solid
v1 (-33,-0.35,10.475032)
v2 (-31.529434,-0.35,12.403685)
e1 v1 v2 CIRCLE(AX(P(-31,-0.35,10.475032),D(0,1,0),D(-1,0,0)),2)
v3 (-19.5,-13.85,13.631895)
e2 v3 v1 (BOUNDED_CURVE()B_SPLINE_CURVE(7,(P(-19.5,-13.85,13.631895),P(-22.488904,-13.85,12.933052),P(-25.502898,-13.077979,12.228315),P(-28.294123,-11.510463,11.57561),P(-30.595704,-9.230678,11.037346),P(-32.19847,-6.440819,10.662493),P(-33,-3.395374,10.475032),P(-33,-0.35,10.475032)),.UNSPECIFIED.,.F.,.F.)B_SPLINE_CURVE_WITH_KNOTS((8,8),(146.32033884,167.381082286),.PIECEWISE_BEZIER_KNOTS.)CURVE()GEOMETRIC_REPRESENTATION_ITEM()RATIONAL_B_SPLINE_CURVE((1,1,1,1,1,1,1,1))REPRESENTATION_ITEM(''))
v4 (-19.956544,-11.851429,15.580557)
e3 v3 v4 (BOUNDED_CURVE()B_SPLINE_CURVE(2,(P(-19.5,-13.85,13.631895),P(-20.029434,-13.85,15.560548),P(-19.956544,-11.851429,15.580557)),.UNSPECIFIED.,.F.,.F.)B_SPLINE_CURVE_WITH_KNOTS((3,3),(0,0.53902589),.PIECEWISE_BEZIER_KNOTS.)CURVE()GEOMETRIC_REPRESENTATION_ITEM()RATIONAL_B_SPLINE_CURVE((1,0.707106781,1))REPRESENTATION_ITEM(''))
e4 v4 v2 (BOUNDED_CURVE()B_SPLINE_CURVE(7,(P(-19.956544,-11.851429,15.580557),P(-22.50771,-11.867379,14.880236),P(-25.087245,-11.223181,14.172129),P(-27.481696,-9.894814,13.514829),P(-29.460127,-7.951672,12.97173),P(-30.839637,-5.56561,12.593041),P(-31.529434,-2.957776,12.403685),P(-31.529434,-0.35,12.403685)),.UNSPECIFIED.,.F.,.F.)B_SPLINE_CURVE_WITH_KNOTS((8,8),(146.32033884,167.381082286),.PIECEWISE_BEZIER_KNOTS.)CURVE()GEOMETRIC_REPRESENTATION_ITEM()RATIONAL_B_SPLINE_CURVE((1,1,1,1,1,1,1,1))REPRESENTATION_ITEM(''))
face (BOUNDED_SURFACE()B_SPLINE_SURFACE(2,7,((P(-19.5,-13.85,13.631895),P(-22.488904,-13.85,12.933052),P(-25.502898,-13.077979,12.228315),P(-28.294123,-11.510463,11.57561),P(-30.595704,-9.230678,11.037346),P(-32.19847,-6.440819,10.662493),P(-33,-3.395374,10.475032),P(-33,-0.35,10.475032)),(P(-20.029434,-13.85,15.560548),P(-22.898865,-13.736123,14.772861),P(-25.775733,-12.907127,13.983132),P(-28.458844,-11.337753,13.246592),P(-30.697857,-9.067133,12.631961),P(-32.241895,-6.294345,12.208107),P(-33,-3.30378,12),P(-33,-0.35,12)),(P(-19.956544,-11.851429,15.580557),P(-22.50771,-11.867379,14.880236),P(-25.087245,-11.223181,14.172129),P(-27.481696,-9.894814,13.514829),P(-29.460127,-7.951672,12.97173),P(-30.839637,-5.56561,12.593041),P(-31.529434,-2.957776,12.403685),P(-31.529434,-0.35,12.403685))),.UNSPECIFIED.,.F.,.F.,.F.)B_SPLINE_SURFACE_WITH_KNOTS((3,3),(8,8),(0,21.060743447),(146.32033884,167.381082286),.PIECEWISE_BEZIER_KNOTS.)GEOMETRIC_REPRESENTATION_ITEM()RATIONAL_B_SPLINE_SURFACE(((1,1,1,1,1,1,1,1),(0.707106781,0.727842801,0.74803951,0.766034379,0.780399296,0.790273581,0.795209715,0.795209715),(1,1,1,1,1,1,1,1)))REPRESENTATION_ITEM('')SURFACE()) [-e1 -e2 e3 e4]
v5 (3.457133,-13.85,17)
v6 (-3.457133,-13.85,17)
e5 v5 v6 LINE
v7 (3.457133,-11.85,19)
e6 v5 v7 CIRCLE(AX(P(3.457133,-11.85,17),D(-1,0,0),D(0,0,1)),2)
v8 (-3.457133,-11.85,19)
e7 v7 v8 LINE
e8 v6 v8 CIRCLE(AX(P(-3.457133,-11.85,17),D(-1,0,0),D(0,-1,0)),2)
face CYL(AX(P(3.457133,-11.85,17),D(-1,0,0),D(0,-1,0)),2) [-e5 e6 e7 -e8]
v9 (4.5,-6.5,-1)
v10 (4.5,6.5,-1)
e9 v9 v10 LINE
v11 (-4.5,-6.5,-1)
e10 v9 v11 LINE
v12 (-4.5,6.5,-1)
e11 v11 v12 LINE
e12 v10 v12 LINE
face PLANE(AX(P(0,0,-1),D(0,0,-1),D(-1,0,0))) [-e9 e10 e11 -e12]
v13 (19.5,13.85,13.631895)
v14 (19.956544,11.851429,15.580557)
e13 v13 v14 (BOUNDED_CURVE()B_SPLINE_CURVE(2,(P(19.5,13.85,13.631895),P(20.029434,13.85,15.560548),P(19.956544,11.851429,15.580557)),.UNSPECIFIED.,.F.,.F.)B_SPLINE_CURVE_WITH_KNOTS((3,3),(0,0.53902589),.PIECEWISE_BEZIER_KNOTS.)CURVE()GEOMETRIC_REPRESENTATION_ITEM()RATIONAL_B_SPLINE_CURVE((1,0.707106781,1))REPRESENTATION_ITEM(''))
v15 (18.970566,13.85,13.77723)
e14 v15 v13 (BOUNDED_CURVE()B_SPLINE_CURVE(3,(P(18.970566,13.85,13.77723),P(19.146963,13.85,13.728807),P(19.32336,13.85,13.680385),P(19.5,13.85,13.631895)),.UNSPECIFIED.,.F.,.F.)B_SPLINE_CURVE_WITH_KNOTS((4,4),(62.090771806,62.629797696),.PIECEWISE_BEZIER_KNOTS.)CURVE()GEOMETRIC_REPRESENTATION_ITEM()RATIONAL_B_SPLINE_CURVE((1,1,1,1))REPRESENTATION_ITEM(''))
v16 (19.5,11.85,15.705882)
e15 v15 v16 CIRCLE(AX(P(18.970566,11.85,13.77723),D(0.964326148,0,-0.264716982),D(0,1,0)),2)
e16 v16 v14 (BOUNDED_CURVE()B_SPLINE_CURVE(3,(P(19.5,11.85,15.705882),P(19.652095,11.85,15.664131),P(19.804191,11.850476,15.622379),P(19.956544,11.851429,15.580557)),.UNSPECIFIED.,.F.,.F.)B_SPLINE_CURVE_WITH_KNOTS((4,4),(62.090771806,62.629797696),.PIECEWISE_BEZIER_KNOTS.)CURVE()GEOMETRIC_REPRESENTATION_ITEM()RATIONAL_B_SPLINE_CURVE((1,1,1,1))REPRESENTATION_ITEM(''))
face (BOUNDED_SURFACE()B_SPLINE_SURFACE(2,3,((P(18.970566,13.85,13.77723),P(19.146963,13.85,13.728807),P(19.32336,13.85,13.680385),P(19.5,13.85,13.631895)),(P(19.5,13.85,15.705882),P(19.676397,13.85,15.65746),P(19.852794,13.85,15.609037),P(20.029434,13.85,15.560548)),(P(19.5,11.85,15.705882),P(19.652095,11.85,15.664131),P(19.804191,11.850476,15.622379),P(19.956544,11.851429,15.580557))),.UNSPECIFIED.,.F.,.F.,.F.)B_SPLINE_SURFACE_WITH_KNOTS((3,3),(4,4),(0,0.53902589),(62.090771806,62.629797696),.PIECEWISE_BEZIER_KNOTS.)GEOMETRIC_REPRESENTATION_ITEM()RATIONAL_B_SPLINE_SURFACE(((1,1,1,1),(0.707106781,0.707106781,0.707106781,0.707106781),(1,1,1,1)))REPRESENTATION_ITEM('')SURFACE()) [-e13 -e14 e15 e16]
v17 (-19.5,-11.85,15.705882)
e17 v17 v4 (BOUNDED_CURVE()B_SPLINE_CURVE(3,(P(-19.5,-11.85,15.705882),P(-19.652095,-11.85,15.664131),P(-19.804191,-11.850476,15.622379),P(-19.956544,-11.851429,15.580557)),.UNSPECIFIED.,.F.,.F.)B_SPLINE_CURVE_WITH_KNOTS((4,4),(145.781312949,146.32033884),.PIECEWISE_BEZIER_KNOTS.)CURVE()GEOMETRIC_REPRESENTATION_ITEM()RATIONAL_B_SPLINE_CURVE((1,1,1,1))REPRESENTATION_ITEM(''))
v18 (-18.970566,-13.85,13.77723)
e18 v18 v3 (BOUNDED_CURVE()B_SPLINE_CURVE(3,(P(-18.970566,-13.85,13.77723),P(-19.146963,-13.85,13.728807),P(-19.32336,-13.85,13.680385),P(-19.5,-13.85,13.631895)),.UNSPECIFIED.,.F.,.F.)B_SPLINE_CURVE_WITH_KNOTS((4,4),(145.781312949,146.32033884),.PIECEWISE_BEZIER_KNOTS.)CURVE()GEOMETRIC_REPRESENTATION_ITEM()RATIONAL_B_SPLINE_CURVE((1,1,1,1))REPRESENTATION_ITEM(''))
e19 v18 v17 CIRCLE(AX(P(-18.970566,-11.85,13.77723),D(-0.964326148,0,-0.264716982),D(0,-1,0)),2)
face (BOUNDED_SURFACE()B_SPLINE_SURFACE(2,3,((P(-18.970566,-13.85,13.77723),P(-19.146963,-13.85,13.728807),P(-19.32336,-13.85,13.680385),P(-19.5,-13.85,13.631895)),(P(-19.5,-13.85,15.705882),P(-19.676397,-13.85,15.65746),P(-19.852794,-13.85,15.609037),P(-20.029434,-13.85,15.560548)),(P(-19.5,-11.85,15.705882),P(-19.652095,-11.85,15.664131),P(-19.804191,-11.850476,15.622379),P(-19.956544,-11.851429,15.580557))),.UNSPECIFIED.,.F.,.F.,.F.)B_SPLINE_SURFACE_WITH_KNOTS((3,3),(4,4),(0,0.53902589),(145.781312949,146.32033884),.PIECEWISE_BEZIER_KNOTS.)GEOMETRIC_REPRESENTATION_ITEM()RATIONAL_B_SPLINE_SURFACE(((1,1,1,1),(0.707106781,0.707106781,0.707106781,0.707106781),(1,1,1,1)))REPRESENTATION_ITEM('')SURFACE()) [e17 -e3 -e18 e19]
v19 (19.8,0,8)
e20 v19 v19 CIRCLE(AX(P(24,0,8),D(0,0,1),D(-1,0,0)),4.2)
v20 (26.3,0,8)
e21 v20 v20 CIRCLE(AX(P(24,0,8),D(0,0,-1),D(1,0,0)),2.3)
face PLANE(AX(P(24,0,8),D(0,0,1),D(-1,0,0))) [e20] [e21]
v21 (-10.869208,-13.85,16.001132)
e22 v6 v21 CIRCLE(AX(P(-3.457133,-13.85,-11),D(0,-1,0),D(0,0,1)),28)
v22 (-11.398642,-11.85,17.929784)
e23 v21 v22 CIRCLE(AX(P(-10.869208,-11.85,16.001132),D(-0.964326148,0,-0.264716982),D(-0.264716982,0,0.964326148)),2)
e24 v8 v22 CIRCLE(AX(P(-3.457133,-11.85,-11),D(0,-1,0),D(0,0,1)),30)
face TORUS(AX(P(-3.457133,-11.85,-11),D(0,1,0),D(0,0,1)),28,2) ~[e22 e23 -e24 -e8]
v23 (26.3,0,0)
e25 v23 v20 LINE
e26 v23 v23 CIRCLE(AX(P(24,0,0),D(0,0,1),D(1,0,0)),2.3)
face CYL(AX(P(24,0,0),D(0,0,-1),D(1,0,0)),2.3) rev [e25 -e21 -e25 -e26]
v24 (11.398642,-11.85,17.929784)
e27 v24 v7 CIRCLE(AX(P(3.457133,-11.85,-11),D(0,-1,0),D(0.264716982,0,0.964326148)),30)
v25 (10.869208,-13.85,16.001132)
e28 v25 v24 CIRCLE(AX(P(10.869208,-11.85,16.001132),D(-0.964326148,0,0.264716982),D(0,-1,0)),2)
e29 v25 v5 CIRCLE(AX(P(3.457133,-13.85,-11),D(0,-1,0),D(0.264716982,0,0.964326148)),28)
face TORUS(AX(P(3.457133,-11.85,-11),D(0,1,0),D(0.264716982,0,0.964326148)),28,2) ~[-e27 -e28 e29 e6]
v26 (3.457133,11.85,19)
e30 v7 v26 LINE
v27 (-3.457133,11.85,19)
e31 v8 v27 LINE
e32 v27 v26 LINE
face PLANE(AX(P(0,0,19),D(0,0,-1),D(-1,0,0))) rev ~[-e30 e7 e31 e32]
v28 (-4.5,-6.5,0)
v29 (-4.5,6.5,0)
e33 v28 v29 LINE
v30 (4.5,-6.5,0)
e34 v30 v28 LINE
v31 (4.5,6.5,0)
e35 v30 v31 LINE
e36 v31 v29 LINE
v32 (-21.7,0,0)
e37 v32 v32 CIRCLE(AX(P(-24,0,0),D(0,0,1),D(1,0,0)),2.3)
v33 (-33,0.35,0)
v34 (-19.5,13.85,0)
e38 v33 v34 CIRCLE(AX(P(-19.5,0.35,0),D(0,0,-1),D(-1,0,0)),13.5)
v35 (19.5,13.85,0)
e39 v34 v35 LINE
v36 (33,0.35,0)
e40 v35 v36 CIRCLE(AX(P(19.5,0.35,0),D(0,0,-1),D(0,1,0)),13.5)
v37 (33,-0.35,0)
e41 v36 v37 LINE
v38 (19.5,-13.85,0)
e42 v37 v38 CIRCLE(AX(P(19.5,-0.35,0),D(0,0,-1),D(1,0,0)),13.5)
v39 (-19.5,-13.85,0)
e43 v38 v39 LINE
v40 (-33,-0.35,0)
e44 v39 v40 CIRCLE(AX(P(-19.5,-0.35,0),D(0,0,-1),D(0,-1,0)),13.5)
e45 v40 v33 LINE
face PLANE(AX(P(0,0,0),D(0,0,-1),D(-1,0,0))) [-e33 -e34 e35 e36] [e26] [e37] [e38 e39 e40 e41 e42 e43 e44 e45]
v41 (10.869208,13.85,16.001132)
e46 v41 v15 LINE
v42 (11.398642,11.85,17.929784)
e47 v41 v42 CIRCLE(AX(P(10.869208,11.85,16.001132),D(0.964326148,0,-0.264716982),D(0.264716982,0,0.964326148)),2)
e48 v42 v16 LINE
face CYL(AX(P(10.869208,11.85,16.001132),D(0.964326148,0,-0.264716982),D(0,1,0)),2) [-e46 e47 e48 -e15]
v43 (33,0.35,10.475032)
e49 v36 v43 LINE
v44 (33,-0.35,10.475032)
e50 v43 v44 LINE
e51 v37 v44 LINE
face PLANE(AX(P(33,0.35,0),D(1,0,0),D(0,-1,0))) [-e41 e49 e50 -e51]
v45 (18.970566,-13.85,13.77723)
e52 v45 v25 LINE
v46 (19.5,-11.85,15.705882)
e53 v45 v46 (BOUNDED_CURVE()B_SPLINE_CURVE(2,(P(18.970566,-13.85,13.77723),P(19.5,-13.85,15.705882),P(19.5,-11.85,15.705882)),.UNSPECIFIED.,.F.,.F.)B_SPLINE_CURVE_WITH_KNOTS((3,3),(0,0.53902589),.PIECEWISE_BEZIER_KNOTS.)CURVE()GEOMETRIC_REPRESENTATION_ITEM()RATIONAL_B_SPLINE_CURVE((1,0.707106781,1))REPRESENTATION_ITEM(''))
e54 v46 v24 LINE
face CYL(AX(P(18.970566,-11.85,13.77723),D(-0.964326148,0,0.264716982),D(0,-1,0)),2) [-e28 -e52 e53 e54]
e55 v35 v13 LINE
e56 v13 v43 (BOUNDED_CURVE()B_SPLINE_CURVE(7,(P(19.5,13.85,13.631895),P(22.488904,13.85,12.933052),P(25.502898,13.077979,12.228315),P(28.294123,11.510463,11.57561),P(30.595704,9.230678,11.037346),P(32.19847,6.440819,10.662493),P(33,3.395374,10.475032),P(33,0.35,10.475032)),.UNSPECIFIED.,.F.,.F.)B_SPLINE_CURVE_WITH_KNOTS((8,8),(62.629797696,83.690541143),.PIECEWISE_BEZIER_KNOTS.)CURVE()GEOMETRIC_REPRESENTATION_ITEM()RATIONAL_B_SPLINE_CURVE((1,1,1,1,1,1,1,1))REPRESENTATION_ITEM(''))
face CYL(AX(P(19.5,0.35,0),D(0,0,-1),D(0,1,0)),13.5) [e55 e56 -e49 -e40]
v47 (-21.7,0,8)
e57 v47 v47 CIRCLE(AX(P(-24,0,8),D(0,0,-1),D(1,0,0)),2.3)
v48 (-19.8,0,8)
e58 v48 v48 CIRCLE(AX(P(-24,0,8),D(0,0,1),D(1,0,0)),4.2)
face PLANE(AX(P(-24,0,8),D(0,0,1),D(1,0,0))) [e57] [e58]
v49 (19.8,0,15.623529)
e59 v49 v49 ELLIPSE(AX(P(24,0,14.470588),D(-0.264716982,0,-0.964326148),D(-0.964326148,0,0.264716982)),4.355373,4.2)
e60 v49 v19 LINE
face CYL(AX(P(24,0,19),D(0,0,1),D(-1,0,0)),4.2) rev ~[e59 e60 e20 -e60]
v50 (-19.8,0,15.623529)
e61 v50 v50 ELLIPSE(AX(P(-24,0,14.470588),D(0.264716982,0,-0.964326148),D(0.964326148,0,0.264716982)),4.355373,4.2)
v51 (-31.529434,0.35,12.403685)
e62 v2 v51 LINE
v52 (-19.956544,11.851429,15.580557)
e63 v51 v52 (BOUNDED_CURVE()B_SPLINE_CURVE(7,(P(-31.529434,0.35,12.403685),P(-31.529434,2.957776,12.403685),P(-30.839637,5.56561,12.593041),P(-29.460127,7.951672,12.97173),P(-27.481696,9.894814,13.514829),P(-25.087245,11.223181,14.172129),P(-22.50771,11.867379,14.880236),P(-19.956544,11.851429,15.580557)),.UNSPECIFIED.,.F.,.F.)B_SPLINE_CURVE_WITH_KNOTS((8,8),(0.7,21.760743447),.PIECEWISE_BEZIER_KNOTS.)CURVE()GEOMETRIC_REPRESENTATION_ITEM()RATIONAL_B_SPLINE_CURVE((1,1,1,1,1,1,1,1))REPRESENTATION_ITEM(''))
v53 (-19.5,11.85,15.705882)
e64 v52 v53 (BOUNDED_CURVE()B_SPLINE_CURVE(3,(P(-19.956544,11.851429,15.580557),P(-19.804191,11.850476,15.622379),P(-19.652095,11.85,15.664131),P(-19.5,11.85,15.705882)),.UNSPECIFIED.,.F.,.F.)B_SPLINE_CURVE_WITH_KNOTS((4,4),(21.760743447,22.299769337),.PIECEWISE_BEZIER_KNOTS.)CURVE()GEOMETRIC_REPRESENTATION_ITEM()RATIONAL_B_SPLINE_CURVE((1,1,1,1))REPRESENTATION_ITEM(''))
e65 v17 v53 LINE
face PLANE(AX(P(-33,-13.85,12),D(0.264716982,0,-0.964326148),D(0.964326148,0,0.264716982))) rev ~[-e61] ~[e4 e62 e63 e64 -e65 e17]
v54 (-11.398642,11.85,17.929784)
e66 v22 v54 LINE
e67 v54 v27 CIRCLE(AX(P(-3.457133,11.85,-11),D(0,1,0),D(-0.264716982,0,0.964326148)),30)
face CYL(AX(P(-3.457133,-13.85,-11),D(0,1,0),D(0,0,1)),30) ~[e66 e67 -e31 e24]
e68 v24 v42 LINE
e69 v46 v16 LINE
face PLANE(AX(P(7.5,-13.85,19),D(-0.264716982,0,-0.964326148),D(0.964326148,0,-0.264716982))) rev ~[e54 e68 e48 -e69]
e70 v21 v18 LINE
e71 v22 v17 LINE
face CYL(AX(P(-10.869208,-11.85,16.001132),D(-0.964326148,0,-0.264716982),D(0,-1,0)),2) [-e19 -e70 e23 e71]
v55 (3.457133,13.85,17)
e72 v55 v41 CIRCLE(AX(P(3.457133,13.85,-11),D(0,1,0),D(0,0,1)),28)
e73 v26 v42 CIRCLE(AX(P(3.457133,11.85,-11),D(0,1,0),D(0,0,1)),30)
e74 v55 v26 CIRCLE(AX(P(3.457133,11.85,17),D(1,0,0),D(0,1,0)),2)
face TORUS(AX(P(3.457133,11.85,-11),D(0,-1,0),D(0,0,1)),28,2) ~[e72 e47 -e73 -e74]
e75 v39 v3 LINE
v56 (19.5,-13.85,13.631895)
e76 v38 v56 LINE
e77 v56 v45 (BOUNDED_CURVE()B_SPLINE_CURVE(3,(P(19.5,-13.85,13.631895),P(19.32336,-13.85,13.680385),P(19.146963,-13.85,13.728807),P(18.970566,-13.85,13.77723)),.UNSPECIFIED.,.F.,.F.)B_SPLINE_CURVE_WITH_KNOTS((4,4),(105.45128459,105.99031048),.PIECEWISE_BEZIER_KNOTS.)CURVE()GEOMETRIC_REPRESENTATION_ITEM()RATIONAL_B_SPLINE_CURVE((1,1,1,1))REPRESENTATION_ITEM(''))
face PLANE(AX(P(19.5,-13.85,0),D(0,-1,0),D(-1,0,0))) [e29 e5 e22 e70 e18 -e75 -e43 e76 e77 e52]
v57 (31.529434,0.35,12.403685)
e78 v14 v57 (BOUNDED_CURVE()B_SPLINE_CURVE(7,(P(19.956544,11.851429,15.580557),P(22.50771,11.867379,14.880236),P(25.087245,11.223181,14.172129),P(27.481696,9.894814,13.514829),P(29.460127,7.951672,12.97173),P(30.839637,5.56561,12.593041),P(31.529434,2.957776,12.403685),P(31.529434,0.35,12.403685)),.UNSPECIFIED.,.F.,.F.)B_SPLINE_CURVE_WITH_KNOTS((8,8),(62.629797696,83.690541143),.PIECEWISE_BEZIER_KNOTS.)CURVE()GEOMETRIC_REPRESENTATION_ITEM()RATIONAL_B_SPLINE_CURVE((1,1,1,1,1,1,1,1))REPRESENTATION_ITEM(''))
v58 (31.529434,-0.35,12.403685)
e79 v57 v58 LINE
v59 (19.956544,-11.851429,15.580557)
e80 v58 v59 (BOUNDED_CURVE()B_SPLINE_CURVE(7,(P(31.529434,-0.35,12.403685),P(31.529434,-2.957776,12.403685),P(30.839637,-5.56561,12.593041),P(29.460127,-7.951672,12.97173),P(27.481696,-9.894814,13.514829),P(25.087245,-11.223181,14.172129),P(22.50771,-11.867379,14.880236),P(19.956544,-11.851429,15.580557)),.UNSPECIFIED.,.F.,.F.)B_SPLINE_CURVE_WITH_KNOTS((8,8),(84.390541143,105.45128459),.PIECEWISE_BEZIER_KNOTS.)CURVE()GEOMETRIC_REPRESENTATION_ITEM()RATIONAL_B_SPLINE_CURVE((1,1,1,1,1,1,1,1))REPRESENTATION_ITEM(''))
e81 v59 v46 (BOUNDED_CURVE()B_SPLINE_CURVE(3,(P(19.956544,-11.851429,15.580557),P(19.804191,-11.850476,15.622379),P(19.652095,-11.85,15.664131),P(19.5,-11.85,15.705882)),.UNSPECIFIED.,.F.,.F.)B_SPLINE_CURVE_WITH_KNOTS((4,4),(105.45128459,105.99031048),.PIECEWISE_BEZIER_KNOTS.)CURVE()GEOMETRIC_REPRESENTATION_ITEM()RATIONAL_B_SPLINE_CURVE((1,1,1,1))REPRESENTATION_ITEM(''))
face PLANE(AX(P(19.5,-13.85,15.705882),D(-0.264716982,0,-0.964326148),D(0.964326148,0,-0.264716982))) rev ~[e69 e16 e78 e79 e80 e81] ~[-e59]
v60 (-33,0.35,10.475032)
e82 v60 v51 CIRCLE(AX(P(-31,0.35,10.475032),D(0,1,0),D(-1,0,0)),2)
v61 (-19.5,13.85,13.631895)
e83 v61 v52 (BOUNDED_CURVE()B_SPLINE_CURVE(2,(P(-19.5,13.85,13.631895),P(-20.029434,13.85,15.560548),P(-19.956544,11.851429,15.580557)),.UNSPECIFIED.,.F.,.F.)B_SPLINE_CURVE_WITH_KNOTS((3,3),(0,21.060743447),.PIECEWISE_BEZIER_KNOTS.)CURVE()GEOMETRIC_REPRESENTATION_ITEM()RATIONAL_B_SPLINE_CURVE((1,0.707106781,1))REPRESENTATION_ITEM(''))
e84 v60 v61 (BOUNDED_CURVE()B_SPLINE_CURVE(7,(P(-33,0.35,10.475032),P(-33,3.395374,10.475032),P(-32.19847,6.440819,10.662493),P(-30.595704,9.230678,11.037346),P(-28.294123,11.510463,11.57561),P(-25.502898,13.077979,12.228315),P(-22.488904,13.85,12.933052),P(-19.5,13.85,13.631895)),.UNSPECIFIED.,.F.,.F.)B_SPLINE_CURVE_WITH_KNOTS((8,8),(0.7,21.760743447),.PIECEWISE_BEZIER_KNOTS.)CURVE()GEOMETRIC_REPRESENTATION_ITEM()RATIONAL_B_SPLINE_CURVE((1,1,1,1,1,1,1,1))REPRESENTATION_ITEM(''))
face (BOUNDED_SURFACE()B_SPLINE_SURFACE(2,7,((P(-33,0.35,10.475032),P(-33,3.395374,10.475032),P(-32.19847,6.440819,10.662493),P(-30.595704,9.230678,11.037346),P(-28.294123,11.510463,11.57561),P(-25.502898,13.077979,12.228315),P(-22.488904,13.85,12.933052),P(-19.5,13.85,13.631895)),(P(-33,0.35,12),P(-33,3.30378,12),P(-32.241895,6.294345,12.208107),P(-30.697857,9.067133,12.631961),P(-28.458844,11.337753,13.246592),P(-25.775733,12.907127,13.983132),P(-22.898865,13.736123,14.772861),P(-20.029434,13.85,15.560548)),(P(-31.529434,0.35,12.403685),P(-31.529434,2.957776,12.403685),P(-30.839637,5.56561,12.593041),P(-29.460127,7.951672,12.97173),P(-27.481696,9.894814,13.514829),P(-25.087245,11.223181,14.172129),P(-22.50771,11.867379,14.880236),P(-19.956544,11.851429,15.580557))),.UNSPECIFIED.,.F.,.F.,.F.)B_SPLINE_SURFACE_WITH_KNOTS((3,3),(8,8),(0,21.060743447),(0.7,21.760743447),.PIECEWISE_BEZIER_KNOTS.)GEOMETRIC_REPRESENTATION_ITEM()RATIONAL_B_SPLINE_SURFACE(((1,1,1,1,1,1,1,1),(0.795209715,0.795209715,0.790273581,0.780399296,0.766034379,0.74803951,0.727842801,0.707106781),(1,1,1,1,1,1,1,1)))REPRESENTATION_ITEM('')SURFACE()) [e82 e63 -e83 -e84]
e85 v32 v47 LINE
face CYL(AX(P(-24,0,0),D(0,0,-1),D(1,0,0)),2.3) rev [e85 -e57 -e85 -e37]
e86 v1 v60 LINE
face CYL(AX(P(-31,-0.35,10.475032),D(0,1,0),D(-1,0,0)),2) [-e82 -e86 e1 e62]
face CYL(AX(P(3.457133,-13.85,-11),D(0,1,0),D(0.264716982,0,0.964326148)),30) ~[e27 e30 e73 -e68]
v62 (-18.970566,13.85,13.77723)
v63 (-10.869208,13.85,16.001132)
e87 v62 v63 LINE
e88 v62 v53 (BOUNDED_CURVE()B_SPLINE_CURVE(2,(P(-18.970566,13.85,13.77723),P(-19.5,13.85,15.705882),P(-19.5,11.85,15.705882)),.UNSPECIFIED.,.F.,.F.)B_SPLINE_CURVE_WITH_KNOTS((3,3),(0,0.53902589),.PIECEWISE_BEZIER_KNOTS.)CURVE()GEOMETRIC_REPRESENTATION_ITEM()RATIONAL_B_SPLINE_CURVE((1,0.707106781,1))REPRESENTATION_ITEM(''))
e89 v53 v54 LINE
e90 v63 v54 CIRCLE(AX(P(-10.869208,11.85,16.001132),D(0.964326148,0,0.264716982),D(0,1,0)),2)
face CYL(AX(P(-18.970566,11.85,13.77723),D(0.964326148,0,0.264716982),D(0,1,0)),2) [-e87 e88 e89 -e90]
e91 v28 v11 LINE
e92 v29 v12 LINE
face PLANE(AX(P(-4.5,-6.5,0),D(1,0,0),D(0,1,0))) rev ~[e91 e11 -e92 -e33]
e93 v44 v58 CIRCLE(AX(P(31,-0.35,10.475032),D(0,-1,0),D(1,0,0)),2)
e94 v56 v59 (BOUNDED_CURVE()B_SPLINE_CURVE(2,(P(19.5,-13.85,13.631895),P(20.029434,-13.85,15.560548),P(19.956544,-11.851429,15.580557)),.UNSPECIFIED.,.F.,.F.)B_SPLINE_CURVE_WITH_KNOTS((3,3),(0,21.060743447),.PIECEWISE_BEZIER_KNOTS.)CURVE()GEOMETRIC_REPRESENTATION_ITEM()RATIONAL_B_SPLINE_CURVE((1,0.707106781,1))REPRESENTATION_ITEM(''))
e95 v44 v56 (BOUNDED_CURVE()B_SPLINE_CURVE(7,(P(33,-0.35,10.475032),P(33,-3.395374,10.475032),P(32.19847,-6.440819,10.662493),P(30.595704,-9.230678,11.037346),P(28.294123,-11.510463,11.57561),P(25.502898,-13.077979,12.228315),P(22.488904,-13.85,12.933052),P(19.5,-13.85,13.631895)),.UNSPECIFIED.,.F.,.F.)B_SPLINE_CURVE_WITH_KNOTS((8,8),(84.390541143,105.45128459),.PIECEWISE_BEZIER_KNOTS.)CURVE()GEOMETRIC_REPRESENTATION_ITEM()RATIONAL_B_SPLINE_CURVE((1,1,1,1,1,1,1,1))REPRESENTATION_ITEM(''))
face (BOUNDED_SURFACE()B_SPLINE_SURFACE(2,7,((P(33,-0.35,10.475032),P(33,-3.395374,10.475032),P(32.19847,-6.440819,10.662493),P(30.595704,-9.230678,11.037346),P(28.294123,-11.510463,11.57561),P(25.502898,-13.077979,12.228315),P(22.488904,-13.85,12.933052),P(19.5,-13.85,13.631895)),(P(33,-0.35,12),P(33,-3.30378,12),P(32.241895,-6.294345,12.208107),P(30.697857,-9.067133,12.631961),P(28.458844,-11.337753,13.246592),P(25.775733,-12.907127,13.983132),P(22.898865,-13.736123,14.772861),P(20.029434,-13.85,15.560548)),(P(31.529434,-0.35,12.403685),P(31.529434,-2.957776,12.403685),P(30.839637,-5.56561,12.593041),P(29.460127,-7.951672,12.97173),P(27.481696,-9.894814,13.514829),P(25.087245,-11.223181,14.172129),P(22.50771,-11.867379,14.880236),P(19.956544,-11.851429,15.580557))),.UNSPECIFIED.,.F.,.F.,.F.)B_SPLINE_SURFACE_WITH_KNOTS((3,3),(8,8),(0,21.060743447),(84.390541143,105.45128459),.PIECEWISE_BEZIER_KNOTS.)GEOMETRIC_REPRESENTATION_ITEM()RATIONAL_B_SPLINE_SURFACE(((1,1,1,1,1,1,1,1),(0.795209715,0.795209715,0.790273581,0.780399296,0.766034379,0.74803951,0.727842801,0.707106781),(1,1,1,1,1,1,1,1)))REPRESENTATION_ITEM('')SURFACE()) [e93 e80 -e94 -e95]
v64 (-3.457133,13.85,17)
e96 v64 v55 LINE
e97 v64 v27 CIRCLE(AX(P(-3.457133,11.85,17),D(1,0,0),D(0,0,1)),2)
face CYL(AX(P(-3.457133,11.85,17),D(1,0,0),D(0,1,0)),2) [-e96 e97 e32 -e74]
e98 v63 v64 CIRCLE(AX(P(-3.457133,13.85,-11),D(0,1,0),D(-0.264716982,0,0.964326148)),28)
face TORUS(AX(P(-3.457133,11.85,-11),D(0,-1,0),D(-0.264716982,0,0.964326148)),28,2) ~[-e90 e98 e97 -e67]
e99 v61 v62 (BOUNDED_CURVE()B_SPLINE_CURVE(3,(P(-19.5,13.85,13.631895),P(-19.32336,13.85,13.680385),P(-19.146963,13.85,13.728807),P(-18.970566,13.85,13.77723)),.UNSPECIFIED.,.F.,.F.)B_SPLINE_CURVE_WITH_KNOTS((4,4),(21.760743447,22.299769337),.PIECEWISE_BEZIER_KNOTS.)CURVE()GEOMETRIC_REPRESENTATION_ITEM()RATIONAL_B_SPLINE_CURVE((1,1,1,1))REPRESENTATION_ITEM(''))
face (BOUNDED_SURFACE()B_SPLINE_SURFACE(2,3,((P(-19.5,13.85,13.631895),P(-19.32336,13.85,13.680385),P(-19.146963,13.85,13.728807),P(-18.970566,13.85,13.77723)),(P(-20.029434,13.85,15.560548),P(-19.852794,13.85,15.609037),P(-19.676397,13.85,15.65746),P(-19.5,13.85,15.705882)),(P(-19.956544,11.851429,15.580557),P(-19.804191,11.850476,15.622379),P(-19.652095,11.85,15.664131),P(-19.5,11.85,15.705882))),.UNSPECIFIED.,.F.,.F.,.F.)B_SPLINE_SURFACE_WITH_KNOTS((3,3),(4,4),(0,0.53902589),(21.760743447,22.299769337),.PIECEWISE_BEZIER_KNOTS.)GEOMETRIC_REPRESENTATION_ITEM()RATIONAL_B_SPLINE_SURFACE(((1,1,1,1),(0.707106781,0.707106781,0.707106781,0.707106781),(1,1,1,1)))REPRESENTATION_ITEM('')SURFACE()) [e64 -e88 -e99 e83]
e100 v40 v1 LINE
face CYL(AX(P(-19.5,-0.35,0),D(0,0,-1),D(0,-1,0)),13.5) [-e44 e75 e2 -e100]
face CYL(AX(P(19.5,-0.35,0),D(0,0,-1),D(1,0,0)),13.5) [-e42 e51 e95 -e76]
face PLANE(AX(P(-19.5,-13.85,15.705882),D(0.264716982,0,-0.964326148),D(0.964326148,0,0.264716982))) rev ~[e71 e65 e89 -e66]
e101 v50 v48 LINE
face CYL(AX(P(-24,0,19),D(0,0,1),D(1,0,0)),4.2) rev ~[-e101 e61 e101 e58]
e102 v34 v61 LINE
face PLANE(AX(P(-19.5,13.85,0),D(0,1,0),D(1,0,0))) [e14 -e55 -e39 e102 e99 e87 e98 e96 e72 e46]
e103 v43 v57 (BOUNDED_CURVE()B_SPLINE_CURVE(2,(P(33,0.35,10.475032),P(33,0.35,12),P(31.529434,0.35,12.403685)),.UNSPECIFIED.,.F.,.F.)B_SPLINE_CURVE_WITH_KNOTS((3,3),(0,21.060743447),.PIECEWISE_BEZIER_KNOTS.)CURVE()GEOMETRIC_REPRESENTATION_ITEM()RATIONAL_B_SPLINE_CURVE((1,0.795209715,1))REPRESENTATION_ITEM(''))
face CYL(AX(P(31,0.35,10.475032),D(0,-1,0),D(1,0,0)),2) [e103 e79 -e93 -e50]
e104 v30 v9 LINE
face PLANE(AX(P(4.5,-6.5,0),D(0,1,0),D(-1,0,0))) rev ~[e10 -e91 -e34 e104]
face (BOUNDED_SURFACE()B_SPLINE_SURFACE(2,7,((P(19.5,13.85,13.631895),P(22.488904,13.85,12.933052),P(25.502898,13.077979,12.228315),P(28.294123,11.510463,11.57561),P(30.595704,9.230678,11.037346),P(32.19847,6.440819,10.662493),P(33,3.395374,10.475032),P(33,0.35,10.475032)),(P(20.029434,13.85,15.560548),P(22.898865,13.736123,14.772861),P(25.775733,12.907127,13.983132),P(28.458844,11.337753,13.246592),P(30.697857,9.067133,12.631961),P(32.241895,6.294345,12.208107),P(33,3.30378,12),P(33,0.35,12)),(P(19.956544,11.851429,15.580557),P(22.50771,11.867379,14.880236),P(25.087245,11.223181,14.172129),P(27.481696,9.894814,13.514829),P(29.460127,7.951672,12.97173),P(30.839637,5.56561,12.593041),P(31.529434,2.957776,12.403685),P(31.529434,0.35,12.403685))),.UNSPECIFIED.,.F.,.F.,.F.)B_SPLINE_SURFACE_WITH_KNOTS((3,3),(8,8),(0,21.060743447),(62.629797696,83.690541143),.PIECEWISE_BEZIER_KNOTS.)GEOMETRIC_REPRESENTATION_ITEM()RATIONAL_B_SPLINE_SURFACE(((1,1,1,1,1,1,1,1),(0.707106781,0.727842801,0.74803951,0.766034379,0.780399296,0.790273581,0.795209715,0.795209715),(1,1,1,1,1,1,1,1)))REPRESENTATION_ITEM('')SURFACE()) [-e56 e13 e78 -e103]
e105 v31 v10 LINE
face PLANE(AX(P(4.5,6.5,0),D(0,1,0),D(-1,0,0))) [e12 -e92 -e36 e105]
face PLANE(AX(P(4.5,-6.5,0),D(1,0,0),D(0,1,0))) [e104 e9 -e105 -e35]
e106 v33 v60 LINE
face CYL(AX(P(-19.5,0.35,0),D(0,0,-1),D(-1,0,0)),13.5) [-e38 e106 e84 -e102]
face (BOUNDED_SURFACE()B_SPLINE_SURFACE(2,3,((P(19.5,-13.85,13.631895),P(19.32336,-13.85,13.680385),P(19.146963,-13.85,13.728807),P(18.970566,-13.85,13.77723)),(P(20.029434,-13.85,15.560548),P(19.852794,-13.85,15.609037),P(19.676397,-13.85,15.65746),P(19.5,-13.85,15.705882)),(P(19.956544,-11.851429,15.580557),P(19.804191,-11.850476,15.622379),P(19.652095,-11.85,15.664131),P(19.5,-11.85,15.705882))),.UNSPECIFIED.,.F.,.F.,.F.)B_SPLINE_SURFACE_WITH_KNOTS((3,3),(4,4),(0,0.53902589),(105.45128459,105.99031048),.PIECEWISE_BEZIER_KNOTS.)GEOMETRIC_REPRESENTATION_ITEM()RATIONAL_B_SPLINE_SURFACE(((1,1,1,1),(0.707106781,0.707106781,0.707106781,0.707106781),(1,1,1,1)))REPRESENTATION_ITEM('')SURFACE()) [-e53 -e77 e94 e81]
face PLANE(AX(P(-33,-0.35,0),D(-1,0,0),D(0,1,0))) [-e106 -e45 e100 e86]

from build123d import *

# Parameters (mm, degrees)
SKETCH1_R           = 2.3
BOSS_EXTRUDE1_DEPTH = 19
CUT_EXTRUDE1_DEPTH  = 48.088108902
FILLET1_R           = 30
FILLET2_R           = 2
SKETCH3_R           = 4.2
CUT_EXTRUDE2_DEPTH  = 11
SKETCH4_W           = 9
SKETCH4_H           = 13
BOSS_EXTRUDE2_DEPTH = 1


with BuildPart() as part:
    # Sketch1 → Boss-Extrude1 (new body)
    with BuildSketch(Plane.XY):
        with BuildLine():
            Line((-19.5, 13.85), (19.5, 13.85))
            ThreePointArc((19.5, 13.85), (29.045941546, 9.895941546), (33, 0.35))
            Line((33, 0.35), (33, -0.35))
            ThreePointArc((33, -0.35), (29.045941546, -9.895941546), (19.5, -13.85))
            Line((19.5, -13.85), (-19.5, -13.85))
            ThreePointArc((-19.5, -13.85), (-29.045941546, -9.895941546), (-33, -0.35))
            Line((-33, -0.35), (-33, 0.35))
            ThreePointArc((-33, 0.35), (-29.045941546, 9.895941546), (-19.5, 13.85))
        make_face()
        with Locations((-24, 0)):
            Circle(SKETCH1_R, mode=Mode.SUBTRACT)
        with Locations((24, 0)):
            Circle(SKETCH1_R, mode=Mode.SUBTRACT)
    extrude(amount=BOSS_EXTRUDE1_DEPTH)

    # Sketch2 → Cut-Extrude1 (cut, through all)
    with BuildSketch(Plane.XZ.offset(13.85)):
        Polygon((-19.5, 19), (-19.5, 15.705882353), (-7.5, 19), align=None)
        Polygon((-33, 12), (-19.5, 15.705882353), (-19.5, 19), (-33, 19), align=None)
        Polygon((7.5, 19), (19.5, 15.705882353), (19.5, 19), align=None)
        Polygon((19.5, 19), (19.5, 15.705882353), (33, 12), (33, 19), align=None)
    extrude(amount=-CUT_EXTRUDE1_DEPTH, mode=Mode.SUBTRACT)

    # Fillet1
    fillet1_edges = [part.edges().sort_by_distance(p)[0] for p in [
        (-7.5, 0, 19),
        (7.5, 0, 19),
    ]]
    fillet(fillet1_edges, radius=FILLET1_R)

    # Fillet2
    fillet2_edges = [part.edges().sort_by_distance(p)[0] for p in [
        (-33, 0, 12),
        (-15.449321203, -13.85, 16.817833395),
        (-28.958901568, 9.982195032, 13.109321138),
        (-15.449321203, 13.85, 16.817833395),
        (-28.958901568, -9.982195032, 13.109321138),
        (33, 0, 12),
        (15.449321203, -13.85, 16.817833395),
        (28.958901568, 9.982195032, 13.109321138),
        (28.958901568, -9.982195032, 13.109321138),
        (15.449321203, 13.85, 16.817833395),
        (0, -13.85, 19),
        (-7.463781607, -13.85, 18.731242264),
        (7.463781607, -13.85, 18.731242264),
        (0, 13.85, 19),
        (-7.463781607, 13.85, 18.731242264),
        (7.463781607, 13.85, 18.731242264),
    ]]
    fillet(fillet2_edges, radius=FILLET2_R)

    # Sketch3 → Cut-Extrude2 (cut)
    with BuildSketch(Plane.XY.offset(19)):
        with Locations((-24, 0)):
            Circle(SKETCH3_R)
        with Locations(Location((24, 0, 0), (0, 0, 180))):
            Circle(SKETCH3_R)
    extrude(amount=-CUT_EXTRUDE2_DEPTH, mode=Mode.SUBTRACT)

    # Sketch4 → Boss-Extrude2 (add)
    with BuildSketch(Plane(origin=(0, 0, 0), x_dir=(-1, 0, 0), z_dir=(0, 0, -1))):
        Rectangle(SKETCH4_W, SKETCH4_H)
    extrude(amount=BOSS_EXTRUDE2_DEPTH)


solid = part.part
